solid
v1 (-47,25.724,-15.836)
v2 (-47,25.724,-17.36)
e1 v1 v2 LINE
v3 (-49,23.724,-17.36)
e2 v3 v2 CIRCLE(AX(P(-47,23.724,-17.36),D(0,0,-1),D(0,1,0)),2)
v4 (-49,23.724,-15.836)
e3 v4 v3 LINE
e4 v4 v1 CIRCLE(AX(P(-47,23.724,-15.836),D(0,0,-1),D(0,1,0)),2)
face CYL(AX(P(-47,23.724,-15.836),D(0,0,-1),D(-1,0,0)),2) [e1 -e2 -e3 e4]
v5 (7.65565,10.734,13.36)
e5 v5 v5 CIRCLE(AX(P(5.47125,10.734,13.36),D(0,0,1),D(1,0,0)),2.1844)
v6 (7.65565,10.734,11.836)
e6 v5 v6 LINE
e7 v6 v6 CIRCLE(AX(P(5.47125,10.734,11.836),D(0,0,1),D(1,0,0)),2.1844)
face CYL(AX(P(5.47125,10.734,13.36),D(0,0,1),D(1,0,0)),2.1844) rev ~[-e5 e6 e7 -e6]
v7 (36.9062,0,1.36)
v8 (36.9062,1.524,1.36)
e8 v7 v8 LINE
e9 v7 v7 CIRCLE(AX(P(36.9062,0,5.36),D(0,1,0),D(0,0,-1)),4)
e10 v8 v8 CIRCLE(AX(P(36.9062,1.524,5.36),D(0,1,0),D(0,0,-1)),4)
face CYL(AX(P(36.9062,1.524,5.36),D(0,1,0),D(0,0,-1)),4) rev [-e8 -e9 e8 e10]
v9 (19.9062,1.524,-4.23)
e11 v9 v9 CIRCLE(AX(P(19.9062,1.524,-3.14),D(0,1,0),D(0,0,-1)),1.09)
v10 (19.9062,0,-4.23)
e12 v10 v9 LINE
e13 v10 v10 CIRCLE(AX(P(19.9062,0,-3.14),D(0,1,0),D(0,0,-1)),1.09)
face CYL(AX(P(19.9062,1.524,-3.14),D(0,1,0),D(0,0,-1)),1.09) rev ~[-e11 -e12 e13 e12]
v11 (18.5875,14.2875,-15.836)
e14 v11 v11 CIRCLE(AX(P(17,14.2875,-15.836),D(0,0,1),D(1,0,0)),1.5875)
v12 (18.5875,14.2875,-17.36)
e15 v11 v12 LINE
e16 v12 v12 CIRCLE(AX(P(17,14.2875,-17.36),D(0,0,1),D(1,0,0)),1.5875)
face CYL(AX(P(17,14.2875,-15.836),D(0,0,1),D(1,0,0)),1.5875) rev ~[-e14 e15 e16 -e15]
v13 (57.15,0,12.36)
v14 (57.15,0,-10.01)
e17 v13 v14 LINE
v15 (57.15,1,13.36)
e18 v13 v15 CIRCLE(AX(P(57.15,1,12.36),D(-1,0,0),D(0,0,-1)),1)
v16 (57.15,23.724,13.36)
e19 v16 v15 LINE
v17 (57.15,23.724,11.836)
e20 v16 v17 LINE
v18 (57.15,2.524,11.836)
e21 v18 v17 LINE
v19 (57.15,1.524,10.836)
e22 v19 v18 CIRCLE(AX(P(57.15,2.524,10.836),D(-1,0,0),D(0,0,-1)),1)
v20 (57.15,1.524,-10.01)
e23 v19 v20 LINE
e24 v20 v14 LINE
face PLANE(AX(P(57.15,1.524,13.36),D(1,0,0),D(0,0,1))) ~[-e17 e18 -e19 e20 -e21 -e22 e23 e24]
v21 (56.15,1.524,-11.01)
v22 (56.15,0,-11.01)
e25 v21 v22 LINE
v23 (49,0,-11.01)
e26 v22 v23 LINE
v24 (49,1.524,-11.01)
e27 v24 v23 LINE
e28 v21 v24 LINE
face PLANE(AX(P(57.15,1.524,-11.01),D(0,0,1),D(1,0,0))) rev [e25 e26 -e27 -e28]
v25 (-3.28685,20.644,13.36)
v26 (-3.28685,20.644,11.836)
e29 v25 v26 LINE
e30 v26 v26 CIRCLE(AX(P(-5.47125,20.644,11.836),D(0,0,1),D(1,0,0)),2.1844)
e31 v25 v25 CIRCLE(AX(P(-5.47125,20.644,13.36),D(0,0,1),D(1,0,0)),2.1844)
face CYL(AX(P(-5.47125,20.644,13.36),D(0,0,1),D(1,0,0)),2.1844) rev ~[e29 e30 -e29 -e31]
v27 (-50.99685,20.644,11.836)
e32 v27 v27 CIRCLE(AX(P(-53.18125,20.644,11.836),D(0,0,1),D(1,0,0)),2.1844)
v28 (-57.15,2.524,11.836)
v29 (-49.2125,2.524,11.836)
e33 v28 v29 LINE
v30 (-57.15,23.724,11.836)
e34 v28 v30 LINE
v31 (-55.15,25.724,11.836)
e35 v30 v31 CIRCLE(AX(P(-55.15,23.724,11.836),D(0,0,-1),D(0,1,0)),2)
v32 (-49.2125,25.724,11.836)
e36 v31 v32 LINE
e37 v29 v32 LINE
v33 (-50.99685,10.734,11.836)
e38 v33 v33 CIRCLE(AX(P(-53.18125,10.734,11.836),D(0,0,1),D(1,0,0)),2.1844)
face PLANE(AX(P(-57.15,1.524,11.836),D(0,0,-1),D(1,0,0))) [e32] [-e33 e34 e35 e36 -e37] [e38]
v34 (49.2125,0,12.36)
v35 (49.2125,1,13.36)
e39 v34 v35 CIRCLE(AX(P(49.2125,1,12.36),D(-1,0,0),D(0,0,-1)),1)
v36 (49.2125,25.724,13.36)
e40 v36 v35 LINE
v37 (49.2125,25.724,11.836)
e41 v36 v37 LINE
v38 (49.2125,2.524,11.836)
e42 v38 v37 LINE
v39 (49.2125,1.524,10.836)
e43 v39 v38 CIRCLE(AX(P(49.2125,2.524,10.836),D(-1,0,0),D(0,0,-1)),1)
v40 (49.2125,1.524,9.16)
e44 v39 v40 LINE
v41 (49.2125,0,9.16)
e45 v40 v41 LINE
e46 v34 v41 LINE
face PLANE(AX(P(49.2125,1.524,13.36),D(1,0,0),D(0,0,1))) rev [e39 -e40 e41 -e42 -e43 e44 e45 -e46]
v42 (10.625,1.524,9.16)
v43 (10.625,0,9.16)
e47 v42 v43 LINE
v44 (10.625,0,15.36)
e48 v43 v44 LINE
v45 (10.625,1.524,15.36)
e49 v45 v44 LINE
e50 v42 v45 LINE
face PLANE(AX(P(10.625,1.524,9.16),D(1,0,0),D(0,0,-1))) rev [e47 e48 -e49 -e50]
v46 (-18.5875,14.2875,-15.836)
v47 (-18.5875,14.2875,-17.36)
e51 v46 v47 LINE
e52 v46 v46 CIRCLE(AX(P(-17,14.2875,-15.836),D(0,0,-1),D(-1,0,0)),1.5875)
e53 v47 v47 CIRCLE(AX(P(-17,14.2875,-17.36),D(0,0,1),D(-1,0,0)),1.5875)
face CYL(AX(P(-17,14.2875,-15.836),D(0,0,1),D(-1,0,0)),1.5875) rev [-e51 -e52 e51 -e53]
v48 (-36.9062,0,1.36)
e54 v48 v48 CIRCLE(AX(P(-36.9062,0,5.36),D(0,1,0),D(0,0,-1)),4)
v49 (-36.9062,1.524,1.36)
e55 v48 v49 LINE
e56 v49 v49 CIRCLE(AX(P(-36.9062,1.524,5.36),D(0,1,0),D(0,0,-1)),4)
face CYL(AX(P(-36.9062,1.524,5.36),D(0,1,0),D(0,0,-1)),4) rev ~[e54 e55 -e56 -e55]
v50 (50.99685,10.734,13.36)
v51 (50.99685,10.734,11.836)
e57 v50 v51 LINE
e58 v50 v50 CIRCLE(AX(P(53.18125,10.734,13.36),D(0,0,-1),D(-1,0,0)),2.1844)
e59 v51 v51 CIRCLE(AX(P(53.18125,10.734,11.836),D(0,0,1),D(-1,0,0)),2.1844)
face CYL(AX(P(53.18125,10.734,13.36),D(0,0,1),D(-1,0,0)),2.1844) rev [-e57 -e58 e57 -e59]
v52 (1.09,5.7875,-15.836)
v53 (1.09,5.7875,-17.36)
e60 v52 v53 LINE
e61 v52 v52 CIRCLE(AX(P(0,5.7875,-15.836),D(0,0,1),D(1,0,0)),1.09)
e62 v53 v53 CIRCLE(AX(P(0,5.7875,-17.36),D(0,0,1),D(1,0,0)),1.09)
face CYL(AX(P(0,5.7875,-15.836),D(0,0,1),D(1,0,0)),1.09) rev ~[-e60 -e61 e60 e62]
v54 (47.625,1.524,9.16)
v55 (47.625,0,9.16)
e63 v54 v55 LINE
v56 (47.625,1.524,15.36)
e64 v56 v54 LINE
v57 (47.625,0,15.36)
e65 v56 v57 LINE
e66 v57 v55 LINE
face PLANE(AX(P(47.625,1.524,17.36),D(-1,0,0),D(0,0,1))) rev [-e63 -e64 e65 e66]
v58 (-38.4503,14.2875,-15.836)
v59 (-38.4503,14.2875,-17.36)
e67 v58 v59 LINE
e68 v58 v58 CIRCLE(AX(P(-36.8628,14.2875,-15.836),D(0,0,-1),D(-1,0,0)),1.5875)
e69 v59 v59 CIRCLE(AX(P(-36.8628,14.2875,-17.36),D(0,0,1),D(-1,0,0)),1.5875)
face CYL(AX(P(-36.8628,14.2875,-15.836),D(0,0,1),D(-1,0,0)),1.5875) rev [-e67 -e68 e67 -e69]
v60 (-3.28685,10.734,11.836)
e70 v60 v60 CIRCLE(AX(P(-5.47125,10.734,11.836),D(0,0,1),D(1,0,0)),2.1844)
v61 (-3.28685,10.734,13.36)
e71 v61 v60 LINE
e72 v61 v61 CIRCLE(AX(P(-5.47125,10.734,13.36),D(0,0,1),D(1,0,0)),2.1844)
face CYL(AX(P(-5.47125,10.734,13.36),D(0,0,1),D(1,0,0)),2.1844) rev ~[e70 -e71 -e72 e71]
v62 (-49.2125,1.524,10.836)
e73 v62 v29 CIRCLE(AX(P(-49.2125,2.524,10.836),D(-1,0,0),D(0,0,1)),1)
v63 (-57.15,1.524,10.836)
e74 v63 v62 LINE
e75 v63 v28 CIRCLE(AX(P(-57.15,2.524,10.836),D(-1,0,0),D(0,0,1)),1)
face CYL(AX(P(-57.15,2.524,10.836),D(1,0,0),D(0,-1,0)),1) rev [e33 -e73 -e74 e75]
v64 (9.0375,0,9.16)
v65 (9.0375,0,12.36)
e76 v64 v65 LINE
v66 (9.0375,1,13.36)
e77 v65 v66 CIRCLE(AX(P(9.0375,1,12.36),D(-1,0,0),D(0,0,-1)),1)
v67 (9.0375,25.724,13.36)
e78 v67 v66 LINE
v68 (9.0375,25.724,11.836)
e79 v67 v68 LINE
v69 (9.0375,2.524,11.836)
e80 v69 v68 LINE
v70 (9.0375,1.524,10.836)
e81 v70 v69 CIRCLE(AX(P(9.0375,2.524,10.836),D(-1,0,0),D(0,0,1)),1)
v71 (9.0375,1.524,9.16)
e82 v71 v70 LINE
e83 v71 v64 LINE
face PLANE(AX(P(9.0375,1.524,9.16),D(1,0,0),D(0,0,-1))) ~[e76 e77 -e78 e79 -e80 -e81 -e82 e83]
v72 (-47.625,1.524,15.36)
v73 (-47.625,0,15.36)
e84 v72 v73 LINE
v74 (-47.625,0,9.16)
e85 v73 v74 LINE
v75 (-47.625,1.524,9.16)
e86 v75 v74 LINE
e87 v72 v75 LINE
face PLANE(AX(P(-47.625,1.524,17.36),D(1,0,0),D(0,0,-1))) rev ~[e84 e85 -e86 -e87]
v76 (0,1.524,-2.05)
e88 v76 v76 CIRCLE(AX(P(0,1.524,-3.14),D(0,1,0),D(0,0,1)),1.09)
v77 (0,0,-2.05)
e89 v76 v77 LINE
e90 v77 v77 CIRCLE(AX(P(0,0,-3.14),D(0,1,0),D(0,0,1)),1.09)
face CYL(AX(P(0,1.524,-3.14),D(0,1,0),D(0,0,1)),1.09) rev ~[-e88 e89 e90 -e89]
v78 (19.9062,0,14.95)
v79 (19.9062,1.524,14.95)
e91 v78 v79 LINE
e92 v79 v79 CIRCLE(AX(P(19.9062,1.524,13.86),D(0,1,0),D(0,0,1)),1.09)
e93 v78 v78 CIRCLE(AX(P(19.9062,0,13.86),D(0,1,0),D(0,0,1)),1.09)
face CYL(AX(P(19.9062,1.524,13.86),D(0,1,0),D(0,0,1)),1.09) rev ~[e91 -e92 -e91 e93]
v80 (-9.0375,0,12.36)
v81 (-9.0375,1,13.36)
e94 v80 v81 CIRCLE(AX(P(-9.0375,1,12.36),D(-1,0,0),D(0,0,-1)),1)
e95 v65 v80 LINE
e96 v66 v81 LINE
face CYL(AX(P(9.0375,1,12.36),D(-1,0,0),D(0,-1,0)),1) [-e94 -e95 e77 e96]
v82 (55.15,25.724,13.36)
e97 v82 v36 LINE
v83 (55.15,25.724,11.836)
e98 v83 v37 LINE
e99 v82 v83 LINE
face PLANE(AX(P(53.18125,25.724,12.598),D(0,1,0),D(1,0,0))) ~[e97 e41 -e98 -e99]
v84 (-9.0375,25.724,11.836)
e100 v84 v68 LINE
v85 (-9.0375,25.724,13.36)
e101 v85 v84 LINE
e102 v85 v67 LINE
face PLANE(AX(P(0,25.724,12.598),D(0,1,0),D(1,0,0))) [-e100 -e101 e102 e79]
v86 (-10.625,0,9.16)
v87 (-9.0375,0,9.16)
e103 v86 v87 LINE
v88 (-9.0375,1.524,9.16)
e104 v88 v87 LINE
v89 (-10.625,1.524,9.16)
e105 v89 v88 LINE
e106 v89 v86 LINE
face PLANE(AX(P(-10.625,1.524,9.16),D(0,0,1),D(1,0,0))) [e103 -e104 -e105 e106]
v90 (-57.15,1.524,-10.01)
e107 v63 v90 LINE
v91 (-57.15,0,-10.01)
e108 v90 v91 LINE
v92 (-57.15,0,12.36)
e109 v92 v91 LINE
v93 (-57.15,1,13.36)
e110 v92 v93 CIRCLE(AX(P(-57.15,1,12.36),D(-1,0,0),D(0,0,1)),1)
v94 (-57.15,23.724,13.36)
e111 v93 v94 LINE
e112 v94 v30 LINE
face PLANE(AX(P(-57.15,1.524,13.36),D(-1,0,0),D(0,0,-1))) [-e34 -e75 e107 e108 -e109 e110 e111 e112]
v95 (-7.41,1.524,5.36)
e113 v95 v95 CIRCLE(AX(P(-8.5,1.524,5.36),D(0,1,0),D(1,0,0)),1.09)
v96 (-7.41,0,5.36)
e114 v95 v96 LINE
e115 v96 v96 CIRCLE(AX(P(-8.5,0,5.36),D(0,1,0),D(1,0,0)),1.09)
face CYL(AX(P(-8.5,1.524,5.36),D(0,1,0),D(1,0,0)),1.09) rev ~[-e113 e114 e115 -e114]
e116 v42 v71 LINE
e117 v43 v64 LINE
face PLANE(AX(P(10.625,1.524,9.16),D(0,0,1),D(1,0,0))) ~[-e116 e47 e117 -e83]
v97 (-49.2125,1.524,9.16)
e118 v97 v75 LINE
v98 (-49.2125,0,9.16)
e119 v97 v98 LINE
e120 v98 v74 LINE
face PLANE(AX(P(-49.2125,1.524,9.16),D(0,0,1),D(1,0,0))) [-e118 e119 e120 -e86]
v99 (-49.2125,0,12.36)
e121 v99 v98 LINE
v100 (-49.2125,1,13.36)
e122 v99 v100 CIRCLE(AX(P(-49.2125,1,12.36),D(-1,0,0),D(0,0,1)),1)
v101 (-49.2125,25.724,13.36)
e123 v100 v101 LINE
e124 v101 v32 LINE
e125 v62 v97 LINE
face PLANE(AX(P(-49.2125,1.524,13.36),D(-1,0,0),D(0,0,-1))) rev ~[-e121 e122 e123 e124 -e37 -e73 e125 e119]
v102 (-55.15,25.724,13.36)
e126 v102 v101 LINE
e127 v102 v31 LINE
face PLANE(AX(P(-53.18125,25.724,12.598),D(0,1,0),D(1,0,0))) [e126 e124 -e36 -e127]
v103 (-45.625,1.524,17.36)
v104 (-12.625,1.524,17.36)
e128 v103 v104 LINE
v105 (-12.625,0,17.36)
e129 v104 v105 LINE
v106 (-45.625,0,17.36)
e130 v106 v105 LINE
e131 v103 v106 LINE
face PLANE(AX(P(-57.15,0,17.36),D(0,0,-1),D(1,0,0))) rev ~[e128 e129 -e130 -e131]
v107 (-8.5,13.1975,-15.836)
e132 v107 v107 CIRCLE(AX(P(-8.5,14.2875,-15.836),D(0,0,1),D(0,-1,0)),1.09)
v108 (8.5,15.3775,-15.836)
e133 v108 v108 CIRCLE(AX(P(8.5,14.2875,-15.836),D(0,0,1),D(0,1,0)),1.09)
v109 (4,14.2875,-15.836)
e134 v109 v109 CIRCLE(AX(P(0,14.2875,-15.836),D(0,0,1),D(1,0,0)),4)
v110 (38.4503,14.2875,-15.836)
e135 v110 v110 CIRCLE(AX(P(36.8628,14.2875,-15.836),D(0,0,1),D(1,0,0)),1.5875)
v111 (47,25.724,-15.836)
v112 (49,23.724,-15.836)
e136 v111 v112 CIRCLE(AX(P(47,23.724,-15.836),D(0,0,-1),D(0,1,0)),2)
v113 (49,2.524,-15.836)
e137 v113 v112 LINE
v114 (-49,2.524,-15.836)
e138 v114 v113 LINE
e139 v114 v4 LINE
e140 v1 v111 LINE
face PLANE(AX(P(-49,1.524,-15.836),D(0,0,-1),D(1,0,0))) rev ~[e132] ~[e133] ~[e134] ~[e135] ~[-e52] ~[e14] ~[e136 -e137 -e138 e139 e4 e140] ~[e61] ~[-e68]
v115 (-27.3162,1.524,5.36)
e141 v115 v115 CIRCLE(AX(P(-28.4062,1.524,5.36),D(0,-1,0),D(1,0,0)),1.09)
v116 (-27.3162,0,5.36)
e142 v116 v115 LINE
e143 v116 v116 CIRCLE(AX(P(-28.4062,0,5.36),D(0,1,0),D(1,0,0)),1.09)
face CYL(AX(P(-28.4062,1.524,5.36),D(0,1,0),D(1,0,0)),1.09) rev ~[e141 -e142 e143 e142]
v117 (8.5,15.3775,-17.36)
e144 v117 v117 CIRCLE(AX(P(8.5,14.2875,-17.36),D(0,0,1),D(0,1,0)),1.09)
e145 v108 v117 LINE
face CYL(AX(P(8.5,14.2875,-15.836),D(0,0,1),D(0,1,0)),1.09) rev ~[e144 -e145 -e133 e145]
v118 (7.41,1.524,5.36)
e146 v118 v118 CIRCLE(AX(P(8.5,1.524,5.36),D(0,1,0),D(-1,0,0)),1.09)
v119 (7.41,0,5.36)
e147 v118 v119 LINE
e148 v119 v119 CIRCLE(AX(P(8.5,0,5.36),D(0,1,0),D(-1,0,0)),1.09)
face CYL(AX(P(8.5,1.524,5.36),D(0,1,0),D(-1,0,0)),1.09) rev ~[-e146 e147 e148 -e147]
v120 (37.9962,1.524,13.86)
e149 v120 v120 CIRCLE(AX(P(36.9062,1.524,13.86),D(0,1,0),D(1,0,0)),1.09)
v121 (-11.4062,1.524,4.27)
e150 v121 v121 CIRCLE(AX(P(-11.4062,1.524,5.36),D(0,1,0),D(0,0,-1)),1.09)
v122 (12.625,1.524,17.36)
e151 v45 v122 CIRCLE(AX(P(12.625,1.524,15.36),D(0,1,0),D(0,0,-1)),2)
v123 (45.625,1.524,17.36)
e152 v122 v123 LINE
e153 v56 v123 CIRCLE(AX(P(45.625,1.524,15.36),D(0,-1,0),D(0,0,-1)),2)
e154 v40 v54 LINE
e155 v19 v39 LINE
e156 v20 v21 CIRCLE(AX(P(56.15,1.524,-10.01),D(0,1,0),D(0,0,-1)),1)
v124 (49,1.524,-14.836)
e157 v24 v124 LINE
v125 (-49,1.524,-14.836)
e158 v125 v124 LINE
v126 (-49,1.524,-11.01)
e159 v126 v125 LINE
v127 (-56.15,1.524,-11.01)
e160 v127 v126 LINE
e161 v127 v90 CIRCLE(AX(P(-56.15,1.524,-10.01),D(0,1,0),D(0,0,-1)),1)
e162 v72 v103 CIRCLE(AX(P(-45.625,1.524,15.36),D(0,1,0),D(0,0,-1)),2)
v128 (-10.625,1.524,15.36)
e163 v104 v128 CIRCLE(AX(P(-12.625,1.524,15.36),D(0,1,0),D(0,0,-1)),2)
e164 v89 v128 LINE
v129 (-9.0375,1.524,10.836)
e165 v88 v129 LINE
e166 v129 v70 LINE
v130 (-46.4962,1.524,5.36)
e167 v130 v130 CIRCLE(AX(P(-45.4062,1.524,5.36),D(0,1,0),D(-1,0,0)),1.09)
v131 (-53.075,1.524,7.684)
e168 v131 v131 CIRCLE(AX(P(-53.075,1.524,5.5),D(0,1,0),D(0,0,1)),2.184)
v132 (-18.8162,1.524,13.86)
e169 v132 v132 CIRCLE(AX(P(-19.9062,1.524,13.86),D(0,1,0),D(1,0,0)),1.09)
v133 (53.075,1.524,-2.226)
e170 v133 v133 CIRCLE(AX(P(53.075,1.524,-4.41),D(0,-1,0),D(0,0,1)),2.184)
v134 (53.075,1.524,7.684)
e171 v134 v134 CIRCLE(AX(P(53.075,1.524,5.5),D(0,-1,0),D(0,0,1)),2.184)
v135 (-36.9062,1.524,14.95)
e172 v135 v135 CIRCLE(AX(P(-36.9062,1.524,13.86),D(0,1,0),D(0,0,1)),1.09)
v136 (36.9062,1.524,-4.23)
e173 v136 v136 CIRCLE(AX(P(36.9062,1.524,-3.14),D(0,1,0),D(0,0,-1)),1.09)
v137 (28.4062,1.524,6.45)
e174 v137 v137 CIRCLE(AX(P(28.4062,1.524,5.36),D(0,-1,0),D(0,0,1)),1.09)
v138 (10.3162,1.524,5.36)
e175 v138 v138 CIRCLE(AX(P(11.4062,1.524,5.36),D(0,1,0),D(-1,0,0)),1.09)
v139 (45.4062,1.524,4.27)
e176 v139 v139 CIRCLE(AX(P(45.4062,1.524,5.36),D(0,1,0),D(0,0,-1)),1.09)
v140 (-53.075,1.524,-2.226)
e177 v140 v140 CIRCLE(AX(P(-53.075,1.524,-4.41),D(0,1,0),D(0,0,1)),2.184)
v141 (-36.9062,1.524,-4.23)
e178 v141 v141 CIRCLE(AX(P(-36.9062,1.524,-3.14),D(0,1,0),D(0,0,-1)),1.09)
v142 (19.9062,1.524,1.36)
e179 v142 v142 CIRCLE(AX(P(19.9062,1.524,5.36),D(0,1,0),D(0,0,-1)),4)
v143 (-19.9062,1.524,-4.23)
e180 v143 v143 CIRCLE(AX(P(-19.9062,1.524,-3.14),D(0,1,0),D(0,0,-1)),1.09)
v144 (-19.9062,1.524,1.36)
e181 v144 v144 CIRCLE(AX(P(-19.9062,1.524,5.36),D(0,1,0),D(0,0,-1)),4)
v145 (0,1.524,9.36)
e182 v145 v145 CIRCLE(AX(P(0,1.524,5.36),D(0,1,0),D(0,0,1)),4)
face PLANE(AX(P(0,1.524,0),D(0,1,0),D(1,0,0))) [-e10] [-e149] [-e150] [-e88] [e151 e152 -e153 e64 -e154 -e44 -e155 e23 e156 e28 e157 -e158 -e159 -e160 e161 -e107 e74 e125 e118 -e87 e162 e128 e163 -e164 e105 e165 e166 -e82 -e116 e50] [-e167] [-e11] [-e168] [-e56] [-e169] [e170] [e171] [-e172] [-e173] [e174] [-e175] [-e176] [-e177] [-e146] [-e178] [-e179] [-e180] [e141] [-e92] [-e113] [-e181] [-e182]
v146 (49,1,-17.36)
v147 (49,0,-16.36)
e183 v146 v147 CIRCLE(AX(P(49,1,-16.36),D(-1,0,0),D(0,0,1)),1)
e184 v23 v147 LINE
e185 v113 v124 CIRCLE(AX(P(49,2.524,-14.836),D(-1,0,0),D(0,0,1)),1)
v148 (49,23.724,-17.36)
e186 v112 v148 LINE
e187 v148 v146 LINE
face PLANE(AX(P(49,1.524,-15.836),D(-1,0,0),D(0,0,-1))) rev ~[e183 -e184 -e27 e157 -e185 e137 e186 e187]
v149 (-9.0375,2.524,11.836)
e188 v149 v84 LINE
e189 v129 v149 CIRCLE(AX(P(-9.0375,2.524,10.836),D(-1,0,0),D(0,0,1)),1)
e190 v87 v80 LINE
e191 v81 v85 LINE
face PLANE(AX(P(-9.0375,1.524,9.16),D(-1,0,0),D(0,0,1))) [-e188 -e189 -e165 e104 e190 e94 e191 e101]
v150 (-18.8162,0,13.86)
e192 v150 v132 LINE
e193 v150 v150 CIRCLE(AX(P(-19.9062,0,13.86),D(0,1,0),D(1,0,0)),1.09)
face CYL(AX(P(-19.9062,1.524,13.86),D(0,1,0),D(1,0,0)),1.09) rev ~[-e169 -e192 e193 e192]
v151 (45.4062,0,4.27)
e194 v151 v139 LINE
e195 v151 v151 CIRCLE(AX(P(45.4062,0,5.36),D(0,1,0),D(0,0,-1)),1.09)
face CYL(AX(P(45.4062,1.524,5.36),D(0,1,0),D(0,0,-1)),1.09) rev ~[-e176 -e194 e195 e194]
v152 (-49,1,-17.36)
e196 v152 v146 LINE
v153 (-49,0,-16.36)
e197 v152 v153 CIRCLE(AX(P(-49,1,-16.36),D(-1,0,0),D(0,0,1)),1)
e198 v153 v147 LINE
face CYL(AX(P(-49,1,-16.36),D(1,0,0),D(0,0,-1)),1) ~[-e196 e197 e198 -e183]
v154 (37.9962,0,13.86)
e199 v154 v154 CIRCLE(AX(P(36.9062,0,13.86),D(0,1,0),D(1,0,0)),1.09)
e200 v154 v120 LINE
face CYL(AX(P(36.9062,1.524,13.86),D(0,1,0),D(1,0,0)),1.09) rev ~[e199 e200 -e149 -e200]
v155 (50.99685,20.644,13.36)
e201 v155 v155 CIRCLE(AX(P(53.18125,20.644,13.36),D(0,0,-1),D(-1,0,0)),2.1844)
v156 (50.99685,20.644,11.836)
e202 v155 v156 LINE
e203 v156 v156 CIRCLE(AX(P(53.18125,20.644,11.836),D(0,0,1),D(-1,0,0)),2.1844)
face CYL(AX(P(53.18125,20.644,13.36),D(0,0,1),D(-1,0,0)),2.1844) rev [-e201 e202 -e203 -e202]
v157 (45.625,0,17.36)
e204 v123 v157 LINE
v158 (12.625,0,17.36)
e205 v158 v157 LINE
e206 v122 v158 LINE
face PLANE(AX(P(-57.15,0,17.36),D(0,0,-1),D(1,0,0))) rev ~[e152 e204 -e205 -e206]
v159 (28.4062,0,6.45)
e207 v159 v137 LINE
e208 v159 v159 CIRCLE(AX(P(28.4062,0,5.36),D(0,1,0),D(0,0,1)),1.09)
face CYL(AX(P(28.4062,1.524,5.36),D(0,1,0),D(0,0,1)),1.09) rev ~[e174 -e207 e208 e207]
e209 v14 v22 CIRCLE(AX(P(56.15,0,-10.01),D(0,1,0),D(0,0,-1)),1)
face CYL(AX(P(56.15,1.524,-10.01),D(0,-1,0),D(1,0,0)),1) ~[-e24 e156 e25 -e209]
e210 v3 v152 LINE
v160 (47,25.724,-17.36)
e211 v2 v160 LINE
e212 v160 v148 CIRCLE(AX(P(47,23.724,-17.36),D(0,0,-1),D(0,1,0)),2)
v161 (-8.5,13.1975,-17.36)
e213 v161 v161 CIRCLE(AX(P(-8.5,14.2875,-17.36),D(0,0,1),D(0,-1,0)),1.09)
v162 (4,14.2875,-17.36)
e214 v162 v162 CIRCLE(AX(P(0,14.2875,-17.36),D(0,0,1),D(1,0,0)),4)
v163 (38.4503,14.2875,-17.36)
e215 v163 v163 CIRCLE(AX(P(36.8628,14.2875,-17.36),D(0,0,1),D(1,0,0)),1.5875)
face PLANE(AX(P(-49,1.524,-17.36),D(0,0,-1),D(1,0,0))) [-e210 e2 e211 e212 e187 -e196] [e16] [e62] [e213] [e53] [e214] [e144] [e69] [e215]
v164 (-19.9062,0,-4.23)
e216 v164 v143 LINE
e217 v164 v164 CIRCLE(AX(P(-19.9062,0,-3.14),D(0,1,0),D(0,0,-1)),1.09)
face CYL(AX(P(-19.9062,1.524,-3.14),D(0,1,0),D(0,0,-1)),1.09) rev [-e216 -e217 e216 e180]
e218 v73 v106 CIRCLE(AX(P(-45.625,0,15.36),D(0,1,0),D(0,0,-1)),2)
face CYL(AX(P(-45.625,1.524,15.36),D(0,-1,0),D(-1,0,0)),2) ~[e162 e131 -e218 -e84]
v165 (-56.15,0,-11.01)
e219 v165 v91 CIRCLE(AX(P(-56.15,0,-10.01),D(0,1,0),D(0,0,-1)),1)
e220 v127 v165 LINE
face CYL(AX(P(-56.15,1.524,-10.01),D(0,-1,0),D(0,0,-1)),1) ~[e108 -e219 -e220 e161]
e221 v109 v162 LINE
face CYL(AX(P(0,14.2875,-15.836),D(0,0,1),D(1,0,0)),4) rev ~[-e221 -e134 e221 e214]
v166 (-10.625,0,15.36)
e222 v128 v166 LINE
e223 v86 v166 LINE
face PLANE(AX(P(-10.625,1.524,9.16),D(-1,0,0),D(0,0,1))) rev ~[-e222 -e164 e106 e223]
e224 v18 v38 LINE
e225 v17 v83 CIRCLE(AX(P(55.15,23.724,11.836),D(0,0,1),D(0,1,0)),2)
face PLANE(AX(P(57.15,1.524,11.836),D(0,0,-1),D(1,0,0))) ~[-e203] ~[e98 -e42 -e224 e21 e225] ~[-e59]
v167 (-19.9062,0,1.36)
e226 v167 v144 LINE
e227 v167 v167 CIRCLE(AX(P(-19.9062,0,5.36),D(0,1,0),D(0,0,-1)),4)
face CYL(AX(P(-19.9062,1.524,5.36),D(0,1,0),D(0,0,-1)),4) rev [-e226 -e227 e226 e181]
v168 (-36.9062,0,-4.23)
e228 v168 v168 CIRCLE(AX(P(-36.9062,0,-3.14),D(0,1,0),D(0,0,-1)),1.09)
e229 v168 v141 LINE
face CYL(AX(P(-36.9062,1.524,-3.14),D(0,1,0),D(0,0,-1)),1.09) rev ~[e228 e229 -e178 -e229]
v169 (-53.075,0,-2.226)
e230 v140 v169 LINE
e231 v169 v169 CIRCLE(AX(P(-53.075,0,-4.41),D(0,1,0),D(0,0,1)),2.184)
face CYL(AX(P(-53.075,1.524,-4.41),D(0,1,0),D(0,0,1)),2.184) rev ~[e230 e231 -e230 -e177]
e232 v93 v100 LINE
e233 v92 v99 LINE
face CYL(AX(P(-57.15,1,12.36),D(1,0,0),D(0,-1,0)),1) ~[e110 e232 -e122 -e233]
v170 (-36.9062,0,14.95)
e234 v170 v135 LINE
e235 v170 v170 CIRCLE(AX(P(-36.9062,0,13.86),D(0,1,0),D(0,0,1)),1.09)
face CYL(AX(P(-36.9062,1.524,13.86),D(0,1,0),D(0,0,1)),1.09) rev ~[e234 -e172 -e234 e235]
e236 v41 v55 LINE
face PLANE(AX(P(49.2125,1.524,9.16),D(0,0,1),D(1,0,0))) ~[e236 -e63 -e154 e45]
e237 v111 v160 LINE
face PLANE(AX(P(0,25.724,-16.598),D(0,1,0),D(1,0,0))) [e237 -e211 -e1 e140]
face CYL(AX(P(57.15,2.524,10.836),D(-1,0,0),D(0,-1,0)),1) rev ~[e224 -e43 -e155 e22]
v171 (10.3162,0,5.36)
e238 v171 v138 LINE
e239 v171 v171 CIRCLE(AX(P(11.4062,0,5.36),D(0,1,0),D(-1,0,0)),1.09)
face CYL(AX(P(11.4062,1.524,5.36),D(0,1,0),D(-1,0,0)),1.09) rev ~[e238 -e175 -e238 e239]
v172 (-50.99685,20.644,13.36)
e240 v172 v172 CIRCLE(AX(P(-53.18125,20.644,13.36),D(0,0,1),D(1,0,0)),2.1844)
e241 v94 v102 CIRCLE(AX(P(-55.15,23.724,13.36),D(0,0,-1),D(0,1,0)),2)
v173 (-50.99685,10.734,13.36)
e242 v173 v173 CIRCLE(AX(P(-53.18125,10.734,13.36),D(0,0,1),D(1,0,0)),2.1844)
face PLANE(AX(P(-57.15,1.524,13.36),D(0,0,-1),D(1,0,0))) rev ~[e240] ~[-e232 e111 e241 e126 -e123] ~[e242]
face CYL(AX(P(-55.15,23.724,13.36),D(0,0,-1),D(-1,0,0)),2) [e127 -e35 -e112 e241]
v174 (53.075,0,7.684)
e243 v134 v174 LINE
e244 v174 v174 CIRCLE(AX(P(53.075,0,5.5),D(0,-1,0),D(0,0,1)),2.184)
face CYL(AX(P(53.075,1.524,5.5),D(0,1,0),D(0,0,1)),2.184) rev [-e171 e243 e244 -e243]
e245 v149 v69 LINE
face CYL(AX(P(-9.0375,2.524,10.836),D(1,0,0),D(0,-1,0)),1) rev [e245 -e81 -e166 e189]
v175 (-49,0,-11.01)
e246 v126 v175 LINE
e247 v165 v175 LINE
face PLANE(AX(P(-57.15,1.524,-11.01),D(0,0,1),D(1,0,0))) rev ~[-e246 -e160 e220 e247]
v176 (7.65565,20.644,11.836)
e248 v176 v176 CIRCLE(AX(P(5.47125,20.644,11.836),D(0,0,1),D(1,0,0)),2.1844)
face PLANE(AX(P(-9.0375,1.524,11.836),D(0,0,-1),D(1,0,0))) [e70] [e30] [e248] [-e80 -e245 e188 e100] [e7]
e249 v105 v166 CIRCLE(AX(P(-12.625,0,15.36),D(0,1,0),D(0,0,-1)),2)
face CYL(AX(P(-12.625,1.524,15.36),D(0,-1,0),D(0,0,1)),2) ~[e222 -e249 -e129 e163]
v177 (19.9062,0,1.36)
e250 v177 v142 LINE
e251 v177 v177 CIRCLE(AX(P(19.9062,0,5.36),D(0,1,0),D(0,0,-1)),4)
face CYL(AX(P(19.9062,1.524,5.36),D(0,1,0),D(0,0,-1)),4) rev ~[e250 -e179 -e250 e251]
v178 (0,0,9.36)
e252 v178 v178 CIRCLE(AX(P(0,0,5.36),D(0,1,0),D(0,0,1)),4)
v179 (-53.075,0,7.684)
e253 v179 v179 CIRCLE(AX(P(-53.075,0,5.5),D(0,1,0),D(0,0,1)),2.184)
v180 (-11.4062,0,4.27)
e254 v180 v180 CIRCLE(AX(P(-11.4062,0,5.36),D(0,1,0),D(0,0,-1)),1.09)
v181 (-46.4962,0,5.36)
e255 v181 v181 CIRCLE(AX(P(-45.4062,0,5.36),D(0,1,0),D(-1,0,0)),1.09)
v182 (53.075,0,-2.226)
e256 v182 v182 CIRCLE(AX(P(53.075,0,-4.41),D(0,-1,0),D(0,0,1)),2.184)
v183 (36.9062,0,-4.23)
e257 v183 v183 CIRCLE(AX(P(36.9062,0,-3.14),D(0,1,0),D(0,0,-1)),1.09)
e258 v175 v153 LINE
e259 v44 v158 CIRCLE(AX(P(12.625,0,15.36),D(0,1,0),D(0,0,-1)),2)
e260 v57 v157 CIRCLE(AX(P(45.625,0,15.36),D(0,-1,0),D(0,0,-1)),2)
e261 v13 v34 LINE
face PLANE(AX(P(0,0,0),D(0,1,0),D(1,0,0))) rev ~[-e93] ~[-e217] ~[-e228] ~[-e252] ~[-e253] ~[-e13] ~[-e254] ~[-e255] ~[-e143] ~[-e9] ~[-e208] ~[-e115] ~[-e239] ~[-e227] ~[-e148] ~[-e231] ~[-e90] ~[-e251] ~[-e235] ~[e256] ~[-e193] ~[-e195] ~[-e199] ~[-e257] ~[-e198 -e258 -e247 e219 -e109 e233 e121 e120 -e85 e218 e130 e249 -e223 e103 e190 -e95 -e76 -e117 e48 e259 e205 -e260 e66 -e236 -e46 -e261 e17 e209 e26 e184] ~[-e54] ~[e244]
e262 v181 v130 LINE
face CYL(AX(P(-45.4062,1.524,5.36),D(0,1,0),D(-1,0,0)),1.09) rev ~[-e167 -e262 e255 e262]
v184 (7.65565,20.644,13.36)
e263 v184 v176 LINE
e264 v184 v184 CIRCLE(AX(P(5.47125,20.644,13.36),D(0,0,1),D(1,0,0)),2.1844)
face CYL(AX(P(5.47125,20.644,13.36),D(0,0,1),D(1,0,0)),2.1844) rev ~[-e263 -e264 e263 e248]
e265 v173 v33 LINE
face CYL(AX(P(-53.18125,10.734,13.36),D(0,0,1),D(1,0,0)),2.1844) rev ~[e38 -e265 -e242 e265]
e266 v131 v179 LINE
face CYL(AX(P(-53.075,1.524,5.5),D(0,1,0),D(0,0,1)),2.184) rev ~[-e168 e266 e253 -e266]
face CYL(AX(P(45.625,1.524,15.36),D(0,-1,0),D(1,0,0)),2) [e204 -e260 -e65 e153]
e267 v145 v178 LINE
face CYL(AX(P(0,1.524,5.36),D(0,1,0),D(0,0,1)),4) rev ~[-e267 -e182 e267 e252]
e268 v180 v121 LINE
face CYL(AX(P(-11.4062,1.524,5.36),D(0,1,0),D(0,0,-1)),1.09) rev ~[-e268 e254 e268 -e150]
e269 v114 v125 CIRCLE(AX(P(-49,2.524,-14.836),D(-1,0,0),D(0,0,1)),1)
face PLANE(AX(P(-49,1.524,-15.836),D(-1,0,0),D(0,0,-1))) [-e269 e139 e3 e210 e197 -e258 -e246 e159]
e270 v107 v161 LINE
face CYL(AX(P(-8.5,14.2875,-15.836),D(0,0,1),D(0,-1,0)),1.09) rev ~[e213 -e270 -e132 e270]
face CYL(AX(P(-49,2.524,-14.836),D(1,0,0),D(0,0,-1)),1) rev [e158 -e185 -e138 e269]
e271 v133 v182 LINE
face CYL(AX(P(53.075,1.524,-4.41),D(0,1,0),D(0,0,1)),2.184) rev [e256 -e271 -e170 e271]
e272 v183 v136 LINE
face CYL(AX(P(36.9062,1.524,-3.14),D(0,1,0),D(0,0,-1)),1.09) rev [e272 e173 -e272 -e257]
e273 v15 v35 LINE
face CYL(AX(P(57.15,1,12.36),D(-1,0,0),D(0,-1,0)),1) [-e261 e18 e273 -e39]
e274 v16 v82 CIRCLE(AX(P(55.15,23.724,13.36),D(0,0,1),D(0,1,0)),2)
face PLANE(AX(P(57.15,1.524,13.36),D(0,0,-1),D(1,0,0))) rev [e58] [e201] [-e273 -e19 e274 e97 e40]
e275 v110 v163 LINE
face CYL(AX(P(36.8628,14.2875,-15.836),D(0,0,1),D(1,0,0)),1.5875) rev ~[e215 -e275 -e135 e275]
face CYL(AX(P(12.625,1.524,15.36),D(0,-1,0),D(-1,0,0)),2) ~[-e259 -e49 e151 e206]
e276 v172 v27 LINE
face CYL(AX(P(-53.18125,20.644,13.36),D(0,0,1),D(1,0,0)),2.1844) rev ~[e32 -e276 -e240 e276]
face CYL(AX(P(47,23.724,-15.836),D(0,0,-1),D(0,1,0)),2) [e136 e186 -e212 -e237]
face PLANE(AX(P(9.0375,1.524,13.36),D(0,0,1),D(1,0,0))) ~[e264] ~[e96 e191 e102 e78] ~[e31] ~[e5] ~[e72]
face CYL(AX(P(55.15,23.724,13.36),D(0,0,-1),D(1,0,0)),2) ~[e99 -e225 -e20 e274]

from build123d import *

# Parameters (mm, degrees)
SKETCH1_W               = 114.3
SKETCH1_H               = 34.72
BOSS_EXTRUDE1_DEPTH     = 1.524
SKETCH2_R               = 2.184
SKETCH2_W               = 8.15
SKETCH2_H               = 6.35
CUT_EXTRUDE1_DEPTH      = 1.524
SKETCH3_R               = 4
CUT_EXTRUDE2_DEPTH      = 50
SKETCH4_R               = 1.09
CUT_EXTRUDE3_DEPTH      = 50
CIRPATTERN1_COUNT       = 4
MIRROR2_COPY_1_SKETCH_R = 1.09
MIRROR2_COPY_1_DEPTH    = 50
MIRROR2_COPY_2_SKETCH_R = 1.09
MIRROR2_COPY_2_DEPTH    = 50
MIRROR2_COPY_3_SKETCH_R = 1.09
MIRROR2_COPY_3_DEPTH    = 50
SKETCH7_R               = 4
CUT_EXTRUDE4_DEPTH      = 100
SKETCH8_R               = 1.09
CUT_EXTRUDE5_DEPTH      = 100
CIRPATTERN2_COUNT       = 4
MIRROR3_COPY_1_SKETCH_R = 1.09
MIRROR3_COPY_1_DEPTH    = 50
MIRROR3_COPY_2_SKETCH_R = 1.09
MIRROR3_COPY_2_DEPTH    = 50
MIRROR3_COPY_3_SKETCH_R = 1.09
MIRROR3_COPY_3_DEPTH    = 50
MIRROR3_COPY_4_SKETCH_R = 4
MIRROR3_COPY_4_DEPTH    = 50
MIRROR3_COPY_5_SKETCH_R = 1.09
MIRROR3_COPY_5_DEPTH    = 50
MIRROR3_COPY_6_SKETCH_R = 1.09
MIRROR3_COPY_6_DEPTH    = 50
MIRROR3_COPY_7_SKETCH_R = 1.09
MIRROR3_COPY_7_DEPTH    = 50
MIRROR3_COPY_8_SKETCH_R = 1.09
MIRROR3_COPY_8_DEPTH    = 50
SKETCH9_W               = 7.9375
SKETCH9_H               = 1.524
BOSS_EXTRUDE2_DEPTH     = 24.2
SKETCH10_W              = 98
SKETCH10_H              = 1.524
SKETCH10_W_2            = 18.075
BOSS_EXTRUDE3_DEPTH     = 24.2
SKETCH11_R              = 2.1844
CUT_EXTRUDE6_DEPTH      = 24.2
SKETCH12_R              = 2.1844
CUT_EXTRUDE8_DEPTH      = 24.2
FILLET1_R               = 1
SKETCH13_R              = 1.5875
CUT_EXTRUDE9_DEPTH      = 24.2
FILLET2_R               = 2
SKETCH14_R              = 4
CUT_EXTRUDE10_DEPTH     = 24.2
SKETCH15_R              = 1.09
CUT_EXTRUDE11_DEPTH     = 24.2
CIRPATTERN3_COUNT       = 4


with BuildPart() as part:
    # Sketch1 → Boss-Extrude1 (new body)
    with BuildSketch(Plane(origin=(0, 0, 0), x_dir=(1, 0, 0), z_dir=(0, 1, 0))):
        Rectangle(SKETCH1_W, SKETCH1_H)
    extrude(amount=BOSS_EXTRUDE1_DEPTH)

    # Sketch2 → Cut-Extrude1 (cut)
    with BuildSketch(Plane(origin=(0, 1.524, 0), x_dir=(1, 0, 0), z_dir=(0, 1, 0))):
        with Locations(Location((-53.075, 4.41, 0), (0, 0, 270))):
            Circle(SKETCH2_R)
        with Locations(Location((-53.075, -5.5, 0), (0, 0, 270))):
            Circle(SKETCH2_R)
        with Locations((-53.075, 14.185)):
            Rectangle(SKETCH2_W, SKETCH2_H)
        Polygon((-57.15, -13.36), (-49.2125, -13.36), (-49.2125, -9.16), (-47.625, -9.16), (-47.625, -13.36), (-47.625, -17.36), (-57.15, -17.36), align=None)
        Polygon((-10.625, -13.36), (-10.625, -9.16), (-9.0375, -9.16), (-9.0375, -13.36), (0, -13.36), (0, -17.36), (-10.625, -17.36), align=None)
    cut_extrude1 = extrude(amount=-CUT_EXTRUDE1_DEPTH, mode=Mode.SUBTRACT)

    # Mirror1: Cut-Extrude1 across plane
    add(cut_extrude1.mirror(Plane(origin=(0, 0, 0), x_dir=(0, 0, 1), z_dir=(1, 0, 0))), mode=Mode.SUBTRACT)

    # Sketch3 → Cut-Extrude2 (cut, symmetric)
    with BuildSketch(Plane(origin=(0, 1.524, 0), x_dir=(1, 0, 0), z_dir=(0, 1, 0))):
        with Locations(Location((-36.9062, -5.36, 0), (0, 0, 90))):
            Circle(SKETCH3_R)
    cut_extrude2 = extrude(amount=CUT_EXTRUDE2_DEPTH, both=True, mode=Mode.SUBTRACT)

    # Sketch4 → Cut-Extrude3 (cut, symmetric)
    with BuildSketch(Plane(origin=(0, 1.524, 0), x_dir=(1, 0, 0), z_dir=(0, 1, 0))):
        with Locations(Location((-36.9062, 3.14, 0), (0, 0, 90))):
            Circle(SKETCH4_R)
    cut_extrude3 = extrude(amount=CUT_EXTRUDE3_DEPTH, both=True, mode=Mode.SUBTRACT)

    # CirPattern1: Cut-Extrude3 ×4 about axis
    cirpattern1_axis = Axis((-36.9062, 0, 5.36), (0, 1, 0))
    for i in range(1, CIRPATTERN1_COUNT):
        add(cut_extrude3.rotate(cirpattern1_axis, i * 360 / CIRPATTERN1_COUNT), mode=Mode.SUBTRACT)

    # Mirror2: Cut-Extrude2, Cut-Extrude3 across plane
    add(cut_extrude2.mirror(Plane.ZY.offset(28.4062)), mode=Mode.SUBTRACT)
    add(cut_extrude3.mirror(Plane.ZY.offset(28.4062)), mode=Mode.SUBTRACT)

    # Mirror2 copy 1 sketch → Mirror2 copy 1 (cut, symmetric)
    with BuildSketch(Plane(origin=(-14.5462, 1.524, -31.5462), x_dir=(0, 0, -1), z_dir=(0, 1, 0))):
        with Locations((-36.9062, -3.14)):
            Circle(MIRROR2_COPY_1_SKETCH_R)
    extrude(amount=MIRROR2_COPY_1_DEPTH, both=True, mode=Mode.SUBTRACT)

    # Mirror2 copy 2 sketch → Mirror2 copy 2 (cut, symmetric)
    with BuildSketch(Plane(origin=(17, 1.524, 10.72), x_dir=(1, 0, 0), z_dir=(0, 1, 0))):
        with Locations((-36.9062, -3.14)):
            Circle(MIRROR2_COPY_2_SKETCH_R)
    extrude(amount=MIRROR2_COPY_2_DEPTH, both=True, mode=Mode.SUBTRACT)

    # Mirror2 copy 3 sketch → Mirror2 copy 3 (cut, symmetric)
    with BuildSketch(Plane(origin=(-25.2662, 1.524, 42.2662), x_dir=(0, 0, 1), z_dir=(0, 1, 0))):
        with Locations((-36.9062, -3.14)):
            Circle(MIRROR2_COPY_3_SKETCH_R)
    extrude(amount=MIRROR2_COPY_3_DEPTH, both=True, mode=Mode.SUBTRACT)

    # Sketch7 → Cut-Extrude4 (cut)
    with BuildSketch(Plane(origin=(0, 1.524, 0), x_dir=(1, 0, 0), z_dir=(0, 1, 0))):
        with Locations(Location((0, -5.36, 0), (0, 0, 270))):
            Circle(SKETCH7_R)
    extrude(amount=-CUT_EXTRUDE4_DEPTH, mode=Mode.SUBTRACT)

    # Sketch8 → Cut-Extrude5 (cut)
    with BuildSketch(Plane(origin=(0, 1.524, 0), x_dir=(1, 0, 0), z_dir=(0, 1, 0))):
        with Locations(Location((0, 3.14, 0), (0, 0, 270))):
            Circle(SKETCH8_R)
    cut_extrude5 = extrude(amount=-CUT_EXTRUDE5_DEPTH, mode=Mode.SUBTRACT)

    # CirPattern2: Cut-Extrude5 ×4 about axis, 1 skipped
    cirpattern2_axis = Axis((0, 0, 5.36), (0, 1, 0))
    add([cut_extrude5.rotate(cirpattern2_axis, i * 360 / CIRPATTERN2_COUNT) for i in range(1, CIRPATTERN2_COUNT) if i not in (2,)], mode=Mode.SUBTRACT)

    # Mirror3: Cut-Extrude2, Cut-Extrude3 across plane
    add(cut_extrude2.mirror(Plane(origin=(0, 0, 0), x_dir=(0, 0, 1), z_dir=(1, 0, 0))), mode=Mode.SUBTRACT)
    add(cut_extrude3.mirror(Plane(origin=(0, 0, 0), x_dir=(0, 0, 1), z_dir=(1, 0, 0))), mode=Mode.SUBTRACT)

    # Mirror3 copy 1 sketch → Mirror3 copy 1 (cut, symmetric)
    with BuildSketch(Plane(origin=(42.2662, 1.524, -31.5462), x_dir=(0, 0, -1), z_dir=(0, 1, 0))):
        with Locations((-36.9062, -3.14)):
            Circle(MIRROR3_COPY_1_SKETCH_R)
    extrude(amount=MIRROR3_COPY_1_DEPTH, both=True, mode=Mode.SUBTRACT)

    # Mirror3 copy 2 sketch → Mirror3 copy 2 (cut, symmetric)
    with BuildSketch(Plane(origin=(73.8124, 1.524, 10.72), x_dir=(1, 0, 0), z_dir=(0, 1, 0))):
        with Locations((-36.9062, -3.14)):
            Circle(MIRROR3_COPY_2_SKETCH_R)
    extrude(amount=MIRROR3_COPY_2_DEPTH, both=True, mode=Mode.SUBTRACT)

    # Mirror3 copy 3 sketch → Mirror3 copy 3 (cut, symmetric)
    with BuildSketch(Plane(origin=(31.5462, 1.524, 42.2662), x_dir=(0, 0, 1), z_dir=(0, 1, 0))):
        with Locations((-36.9062, -3.14)):
            Circle(MIRROR3_COPY_3_SKETCH_R)
    extrude(amount=MIRROR3_COPY_3_DEPTH, both=True, mode=Mode.SUBTRACT)

    # Mirror3 copy 4 sketch → Mirror3 copy 4 (cut, symmetric)
    with BuildSketch(Plane(origin=(56.8124, 1.524, 0), x_dir=(1, 0, 0), z_dir=(0, 1, 0))):
        with Locations(Location((-36.9062, -5.36, 0), (0, 0, 90))):
            Circle(MIRROR3_COPY_4_SKETCH_R)
    extrude(amount=MIRROR3_COPY_4_DEPTH, both=True, mode=Mode.SUBTRACT)

    # Mirror3 copy 5 sketch → Mirror3 copy 5 (cut, symmetric)
    with BuildSketch(Plane(origin=(56.8124, 1.524, 0), x_dir=(1, 0, 0), z_dir=(0, 1, 0))):
        with Locations(Location((-36.9062, 3.14, 0), (0, 0, 90))):
            Circle(MIRROR3_COPY_5_SKETCH_R)
    extrude(amount=MIRROR3_COPY_5_DEPTH, both=True, mode=Mode.SUBTRACT)

    # Mirror3 copy 6 sketch → Mirror3 copy 6 (cut, symmetric)
    with BuildSketch(Plane(origin=(14.5462, 1.524, -31.5462), x_dir=(0, 0, -1), z_dir=(0, 1, 0))):
        with Locations(Location((-36.9062, 3.14, 0), (0, 0, 90))):
            Circle(MIRROR3_COPY_6_SKETCH_R)
    extrude(amount=MIRROR3_COPY_6_DEPTH, both=True, mode=Mode.SUBTRACT)

    # Mirror3 copy 7 sketch → Mirror3 copy 7 (cut, symmetric)
    with BuildSketch(Plane(origin=(-17, 1.524, 10.72), x_dir=(-1, 0, 0), z_dir=(0, 1, 0))):
        with Locations(Location((-36.9062, 3.14, 0), (0, 0, 90))):
            Circle(MIRROR3_COPY_7_SKETCH_R)
    extrude(amount=MIRROR3_COPY_7_DEPTH, both=True, mode=Mode.SUBTRACT)

    # Mirror3 copy 8 sketch → Mirror3 copy 8 (cut, symmetric)
    with BuildSketch(Plane(origin=(25.2662, 1.524, 42.2662), x_dir=(0, 0, 1), z_dir=(0, 1, 0))):
        with Locations(Location((-36.9062, 3.14, 0), (0, 0, 90))):
            Circle(MIRROR3_COPY_8_SKETCH_R)
    extrude(amount=MIRROR3_COPY_8_DEPTH, both=True, mode=Mode.SUBTRACT)

    # Sketch9 → Boss-Extrude2 (add)
    with BuildSketch(Plane(origin=(0, 1.524, 0), x_dir=(1, 0, 0), z_dir=(0, 1, 0))):
        with Locations((-53.18125, -12.598)):
            Rectangle(SKETCH9_W, SKETCH9_H)
    boss_extrude2 = extrude(amount=BOSS_EXTRUDE2_DEPTH)

    # Mirror4: Boss-Extrude2 across plane
    add(boss_extrude2.mirror(Plane(origin=(0, 0, 0), x_dir=(0, 0, 1), z_dir=(1, 0, 0))))

    # Sketch10 → Boss-Extrude3 (add)
    with BuildSketch(Plane(origin=(0, 1.524, 0), x_dir=(1, 0, 0), z_dir=(0, 1, 0))):
        with Locations((0, 16.598)):
            Rectangle(SKETCH10_W, SKETCH10_H)
        with Locations((0, -12.598)):
            Rectangle(SKETCH10_W_2, SKETCH10_H)
    extrude(amount=BOSS_EXTRUDE3_DEPTH)

    # Sketch11 → Cut-Extrude6 (cut)
    with BuildSketch(Plane.XY.offset(13.36)):
        with Locations((-53.18125, 20.644)):
            Circle(SKETCH11_R)
        with Locations((-53.18125, 10.734)):
            Circle(SKETCH11_R)
    cut_extrude6 = extrude(amount=-CUT_EXTRUDE6_DEPTH, mode=Mode.SUBTRACT)

    # Mirror5: Cut-Extrude6 across plane
    add(cut_extrude6.mirror(Plane(origin=(0, 0, 0), x_dir=(0, 0, 1), z_dir=(1, 0, 0))), mode=Mode.SUBTRACT)

    # Sketch12 → Cut-Extrude8 (cut)
    with BuildSketch(Plane.XY.offset(13.36)):
        with Locations((-5.47125, 20.644)):
            Circle(SKETCH12_R)
        with Locations((-5.47125, 10.734)):
            Circle(SKETCH12_R)
        with Locations((5.47125, 10.734)):
            Circle(SKETCH12_R)
        with Locations((5.47125, 20.644)):
            Circle(SKETCH12_R)
    extrude(amount=-CUT_EXTRUDE8_DEPTH, mode=Mode.SUBTRACT)

    # Fillet1
    fillet1_edges = [part.edges().sort_by_distance(p)[0] for p in [
        (53.18125, 0, 13.36),
        (-53.18125, 1.524, 11.836),
        (53.18125, 1.524, 11.836),
        (-57.15, 0.762, -11.01),
        (0, 1.524, -15.836),
        (0, 1.524, 11.836),
        (-53.18125, 0, 13.36),
        (0, 0, 13.36),
        (0, 0, -17.36),
        (57.15, 0.762, -11.01),
    ]]
    fillet(fillet1_edges, radius=FILLET1_R)

    # Sketch13 → Cut-Extrude9 (cut)
    with BuildSketch(Plane.XY.offset(-15.836)):
        with Locations((36.8628, 14.2875)):
            Circle(SKETCH13_R)
        with Locations((17, 14.2875)):
            Circle(SKETCH13_R)
    cut_extrude9 = extrude(amount=-CUT_EXTRUDE9_DEPTH, mode=Mode.SUBTRACT)

    # Mirror6: Cut-Extrude9 across plane
    add(cut_extrude9.mirror(Plane(origin=(0, 0, 0), x_dir=(0, 0, 1), z_dir=(1, 0, 0))), mode=Mode.SUBTRACT)

    # Fillet2
    fillet2_edges = [part.edges().sort_by_distance(p)[0] for p in [
        (47.625, 0.762, 17.36),
        (10.625, 0.762, 17.36),
        (-57.15, 25.724, 12.598),
        (57.15, 25.724, 12.598),
        (-49, 25.724, -16.598),
        (49, 25.724, -16.598),
        (-47.625, 0.762, 17.36),
        (-10.625, 0.762, 17.36),
    ]]
    fillet(fillet2_edges, radius=FILLET2_R)

    # Sketch14 → Cut-Extrude10 (cut)
    with BuildSketch(Plane.XY.offset(-15.836)):
        with Locations((0, 14.2875)):
            Circle(SKETCH14_R)
    extrude(amount=-CUT_EXTRUDE10_DEPTH, mode=Mode.SUBTRACT)

    # Sketch15 → Cut-Extrude11 (cut)
    with BuildSketch(Plane.XY.offset(-15.836)):
        with Locations((0, 5.7875)):
            Circle(SKETCH15_R)
    cut_extrude11 = extrude(amount=-CUT_EXTRUDE11_DEPTH, mode=Mode.SUBTRACT)

    # CirPattern3: Cut-Extrude11 ×4 about axis, 1 skipped
    cirpattern3_axis = Axis((0, 14.2875, 0), (0, 0, 1))
    add([cut_extrude11.rotate(cirpattern3_axis, i * 360 / CIRPATTERN3_COUNT) for i in range(1, CIRPATTERN3_COUNT) if i not in (2,)], mode=Mode.SUBTRACT)


solid = part.part
